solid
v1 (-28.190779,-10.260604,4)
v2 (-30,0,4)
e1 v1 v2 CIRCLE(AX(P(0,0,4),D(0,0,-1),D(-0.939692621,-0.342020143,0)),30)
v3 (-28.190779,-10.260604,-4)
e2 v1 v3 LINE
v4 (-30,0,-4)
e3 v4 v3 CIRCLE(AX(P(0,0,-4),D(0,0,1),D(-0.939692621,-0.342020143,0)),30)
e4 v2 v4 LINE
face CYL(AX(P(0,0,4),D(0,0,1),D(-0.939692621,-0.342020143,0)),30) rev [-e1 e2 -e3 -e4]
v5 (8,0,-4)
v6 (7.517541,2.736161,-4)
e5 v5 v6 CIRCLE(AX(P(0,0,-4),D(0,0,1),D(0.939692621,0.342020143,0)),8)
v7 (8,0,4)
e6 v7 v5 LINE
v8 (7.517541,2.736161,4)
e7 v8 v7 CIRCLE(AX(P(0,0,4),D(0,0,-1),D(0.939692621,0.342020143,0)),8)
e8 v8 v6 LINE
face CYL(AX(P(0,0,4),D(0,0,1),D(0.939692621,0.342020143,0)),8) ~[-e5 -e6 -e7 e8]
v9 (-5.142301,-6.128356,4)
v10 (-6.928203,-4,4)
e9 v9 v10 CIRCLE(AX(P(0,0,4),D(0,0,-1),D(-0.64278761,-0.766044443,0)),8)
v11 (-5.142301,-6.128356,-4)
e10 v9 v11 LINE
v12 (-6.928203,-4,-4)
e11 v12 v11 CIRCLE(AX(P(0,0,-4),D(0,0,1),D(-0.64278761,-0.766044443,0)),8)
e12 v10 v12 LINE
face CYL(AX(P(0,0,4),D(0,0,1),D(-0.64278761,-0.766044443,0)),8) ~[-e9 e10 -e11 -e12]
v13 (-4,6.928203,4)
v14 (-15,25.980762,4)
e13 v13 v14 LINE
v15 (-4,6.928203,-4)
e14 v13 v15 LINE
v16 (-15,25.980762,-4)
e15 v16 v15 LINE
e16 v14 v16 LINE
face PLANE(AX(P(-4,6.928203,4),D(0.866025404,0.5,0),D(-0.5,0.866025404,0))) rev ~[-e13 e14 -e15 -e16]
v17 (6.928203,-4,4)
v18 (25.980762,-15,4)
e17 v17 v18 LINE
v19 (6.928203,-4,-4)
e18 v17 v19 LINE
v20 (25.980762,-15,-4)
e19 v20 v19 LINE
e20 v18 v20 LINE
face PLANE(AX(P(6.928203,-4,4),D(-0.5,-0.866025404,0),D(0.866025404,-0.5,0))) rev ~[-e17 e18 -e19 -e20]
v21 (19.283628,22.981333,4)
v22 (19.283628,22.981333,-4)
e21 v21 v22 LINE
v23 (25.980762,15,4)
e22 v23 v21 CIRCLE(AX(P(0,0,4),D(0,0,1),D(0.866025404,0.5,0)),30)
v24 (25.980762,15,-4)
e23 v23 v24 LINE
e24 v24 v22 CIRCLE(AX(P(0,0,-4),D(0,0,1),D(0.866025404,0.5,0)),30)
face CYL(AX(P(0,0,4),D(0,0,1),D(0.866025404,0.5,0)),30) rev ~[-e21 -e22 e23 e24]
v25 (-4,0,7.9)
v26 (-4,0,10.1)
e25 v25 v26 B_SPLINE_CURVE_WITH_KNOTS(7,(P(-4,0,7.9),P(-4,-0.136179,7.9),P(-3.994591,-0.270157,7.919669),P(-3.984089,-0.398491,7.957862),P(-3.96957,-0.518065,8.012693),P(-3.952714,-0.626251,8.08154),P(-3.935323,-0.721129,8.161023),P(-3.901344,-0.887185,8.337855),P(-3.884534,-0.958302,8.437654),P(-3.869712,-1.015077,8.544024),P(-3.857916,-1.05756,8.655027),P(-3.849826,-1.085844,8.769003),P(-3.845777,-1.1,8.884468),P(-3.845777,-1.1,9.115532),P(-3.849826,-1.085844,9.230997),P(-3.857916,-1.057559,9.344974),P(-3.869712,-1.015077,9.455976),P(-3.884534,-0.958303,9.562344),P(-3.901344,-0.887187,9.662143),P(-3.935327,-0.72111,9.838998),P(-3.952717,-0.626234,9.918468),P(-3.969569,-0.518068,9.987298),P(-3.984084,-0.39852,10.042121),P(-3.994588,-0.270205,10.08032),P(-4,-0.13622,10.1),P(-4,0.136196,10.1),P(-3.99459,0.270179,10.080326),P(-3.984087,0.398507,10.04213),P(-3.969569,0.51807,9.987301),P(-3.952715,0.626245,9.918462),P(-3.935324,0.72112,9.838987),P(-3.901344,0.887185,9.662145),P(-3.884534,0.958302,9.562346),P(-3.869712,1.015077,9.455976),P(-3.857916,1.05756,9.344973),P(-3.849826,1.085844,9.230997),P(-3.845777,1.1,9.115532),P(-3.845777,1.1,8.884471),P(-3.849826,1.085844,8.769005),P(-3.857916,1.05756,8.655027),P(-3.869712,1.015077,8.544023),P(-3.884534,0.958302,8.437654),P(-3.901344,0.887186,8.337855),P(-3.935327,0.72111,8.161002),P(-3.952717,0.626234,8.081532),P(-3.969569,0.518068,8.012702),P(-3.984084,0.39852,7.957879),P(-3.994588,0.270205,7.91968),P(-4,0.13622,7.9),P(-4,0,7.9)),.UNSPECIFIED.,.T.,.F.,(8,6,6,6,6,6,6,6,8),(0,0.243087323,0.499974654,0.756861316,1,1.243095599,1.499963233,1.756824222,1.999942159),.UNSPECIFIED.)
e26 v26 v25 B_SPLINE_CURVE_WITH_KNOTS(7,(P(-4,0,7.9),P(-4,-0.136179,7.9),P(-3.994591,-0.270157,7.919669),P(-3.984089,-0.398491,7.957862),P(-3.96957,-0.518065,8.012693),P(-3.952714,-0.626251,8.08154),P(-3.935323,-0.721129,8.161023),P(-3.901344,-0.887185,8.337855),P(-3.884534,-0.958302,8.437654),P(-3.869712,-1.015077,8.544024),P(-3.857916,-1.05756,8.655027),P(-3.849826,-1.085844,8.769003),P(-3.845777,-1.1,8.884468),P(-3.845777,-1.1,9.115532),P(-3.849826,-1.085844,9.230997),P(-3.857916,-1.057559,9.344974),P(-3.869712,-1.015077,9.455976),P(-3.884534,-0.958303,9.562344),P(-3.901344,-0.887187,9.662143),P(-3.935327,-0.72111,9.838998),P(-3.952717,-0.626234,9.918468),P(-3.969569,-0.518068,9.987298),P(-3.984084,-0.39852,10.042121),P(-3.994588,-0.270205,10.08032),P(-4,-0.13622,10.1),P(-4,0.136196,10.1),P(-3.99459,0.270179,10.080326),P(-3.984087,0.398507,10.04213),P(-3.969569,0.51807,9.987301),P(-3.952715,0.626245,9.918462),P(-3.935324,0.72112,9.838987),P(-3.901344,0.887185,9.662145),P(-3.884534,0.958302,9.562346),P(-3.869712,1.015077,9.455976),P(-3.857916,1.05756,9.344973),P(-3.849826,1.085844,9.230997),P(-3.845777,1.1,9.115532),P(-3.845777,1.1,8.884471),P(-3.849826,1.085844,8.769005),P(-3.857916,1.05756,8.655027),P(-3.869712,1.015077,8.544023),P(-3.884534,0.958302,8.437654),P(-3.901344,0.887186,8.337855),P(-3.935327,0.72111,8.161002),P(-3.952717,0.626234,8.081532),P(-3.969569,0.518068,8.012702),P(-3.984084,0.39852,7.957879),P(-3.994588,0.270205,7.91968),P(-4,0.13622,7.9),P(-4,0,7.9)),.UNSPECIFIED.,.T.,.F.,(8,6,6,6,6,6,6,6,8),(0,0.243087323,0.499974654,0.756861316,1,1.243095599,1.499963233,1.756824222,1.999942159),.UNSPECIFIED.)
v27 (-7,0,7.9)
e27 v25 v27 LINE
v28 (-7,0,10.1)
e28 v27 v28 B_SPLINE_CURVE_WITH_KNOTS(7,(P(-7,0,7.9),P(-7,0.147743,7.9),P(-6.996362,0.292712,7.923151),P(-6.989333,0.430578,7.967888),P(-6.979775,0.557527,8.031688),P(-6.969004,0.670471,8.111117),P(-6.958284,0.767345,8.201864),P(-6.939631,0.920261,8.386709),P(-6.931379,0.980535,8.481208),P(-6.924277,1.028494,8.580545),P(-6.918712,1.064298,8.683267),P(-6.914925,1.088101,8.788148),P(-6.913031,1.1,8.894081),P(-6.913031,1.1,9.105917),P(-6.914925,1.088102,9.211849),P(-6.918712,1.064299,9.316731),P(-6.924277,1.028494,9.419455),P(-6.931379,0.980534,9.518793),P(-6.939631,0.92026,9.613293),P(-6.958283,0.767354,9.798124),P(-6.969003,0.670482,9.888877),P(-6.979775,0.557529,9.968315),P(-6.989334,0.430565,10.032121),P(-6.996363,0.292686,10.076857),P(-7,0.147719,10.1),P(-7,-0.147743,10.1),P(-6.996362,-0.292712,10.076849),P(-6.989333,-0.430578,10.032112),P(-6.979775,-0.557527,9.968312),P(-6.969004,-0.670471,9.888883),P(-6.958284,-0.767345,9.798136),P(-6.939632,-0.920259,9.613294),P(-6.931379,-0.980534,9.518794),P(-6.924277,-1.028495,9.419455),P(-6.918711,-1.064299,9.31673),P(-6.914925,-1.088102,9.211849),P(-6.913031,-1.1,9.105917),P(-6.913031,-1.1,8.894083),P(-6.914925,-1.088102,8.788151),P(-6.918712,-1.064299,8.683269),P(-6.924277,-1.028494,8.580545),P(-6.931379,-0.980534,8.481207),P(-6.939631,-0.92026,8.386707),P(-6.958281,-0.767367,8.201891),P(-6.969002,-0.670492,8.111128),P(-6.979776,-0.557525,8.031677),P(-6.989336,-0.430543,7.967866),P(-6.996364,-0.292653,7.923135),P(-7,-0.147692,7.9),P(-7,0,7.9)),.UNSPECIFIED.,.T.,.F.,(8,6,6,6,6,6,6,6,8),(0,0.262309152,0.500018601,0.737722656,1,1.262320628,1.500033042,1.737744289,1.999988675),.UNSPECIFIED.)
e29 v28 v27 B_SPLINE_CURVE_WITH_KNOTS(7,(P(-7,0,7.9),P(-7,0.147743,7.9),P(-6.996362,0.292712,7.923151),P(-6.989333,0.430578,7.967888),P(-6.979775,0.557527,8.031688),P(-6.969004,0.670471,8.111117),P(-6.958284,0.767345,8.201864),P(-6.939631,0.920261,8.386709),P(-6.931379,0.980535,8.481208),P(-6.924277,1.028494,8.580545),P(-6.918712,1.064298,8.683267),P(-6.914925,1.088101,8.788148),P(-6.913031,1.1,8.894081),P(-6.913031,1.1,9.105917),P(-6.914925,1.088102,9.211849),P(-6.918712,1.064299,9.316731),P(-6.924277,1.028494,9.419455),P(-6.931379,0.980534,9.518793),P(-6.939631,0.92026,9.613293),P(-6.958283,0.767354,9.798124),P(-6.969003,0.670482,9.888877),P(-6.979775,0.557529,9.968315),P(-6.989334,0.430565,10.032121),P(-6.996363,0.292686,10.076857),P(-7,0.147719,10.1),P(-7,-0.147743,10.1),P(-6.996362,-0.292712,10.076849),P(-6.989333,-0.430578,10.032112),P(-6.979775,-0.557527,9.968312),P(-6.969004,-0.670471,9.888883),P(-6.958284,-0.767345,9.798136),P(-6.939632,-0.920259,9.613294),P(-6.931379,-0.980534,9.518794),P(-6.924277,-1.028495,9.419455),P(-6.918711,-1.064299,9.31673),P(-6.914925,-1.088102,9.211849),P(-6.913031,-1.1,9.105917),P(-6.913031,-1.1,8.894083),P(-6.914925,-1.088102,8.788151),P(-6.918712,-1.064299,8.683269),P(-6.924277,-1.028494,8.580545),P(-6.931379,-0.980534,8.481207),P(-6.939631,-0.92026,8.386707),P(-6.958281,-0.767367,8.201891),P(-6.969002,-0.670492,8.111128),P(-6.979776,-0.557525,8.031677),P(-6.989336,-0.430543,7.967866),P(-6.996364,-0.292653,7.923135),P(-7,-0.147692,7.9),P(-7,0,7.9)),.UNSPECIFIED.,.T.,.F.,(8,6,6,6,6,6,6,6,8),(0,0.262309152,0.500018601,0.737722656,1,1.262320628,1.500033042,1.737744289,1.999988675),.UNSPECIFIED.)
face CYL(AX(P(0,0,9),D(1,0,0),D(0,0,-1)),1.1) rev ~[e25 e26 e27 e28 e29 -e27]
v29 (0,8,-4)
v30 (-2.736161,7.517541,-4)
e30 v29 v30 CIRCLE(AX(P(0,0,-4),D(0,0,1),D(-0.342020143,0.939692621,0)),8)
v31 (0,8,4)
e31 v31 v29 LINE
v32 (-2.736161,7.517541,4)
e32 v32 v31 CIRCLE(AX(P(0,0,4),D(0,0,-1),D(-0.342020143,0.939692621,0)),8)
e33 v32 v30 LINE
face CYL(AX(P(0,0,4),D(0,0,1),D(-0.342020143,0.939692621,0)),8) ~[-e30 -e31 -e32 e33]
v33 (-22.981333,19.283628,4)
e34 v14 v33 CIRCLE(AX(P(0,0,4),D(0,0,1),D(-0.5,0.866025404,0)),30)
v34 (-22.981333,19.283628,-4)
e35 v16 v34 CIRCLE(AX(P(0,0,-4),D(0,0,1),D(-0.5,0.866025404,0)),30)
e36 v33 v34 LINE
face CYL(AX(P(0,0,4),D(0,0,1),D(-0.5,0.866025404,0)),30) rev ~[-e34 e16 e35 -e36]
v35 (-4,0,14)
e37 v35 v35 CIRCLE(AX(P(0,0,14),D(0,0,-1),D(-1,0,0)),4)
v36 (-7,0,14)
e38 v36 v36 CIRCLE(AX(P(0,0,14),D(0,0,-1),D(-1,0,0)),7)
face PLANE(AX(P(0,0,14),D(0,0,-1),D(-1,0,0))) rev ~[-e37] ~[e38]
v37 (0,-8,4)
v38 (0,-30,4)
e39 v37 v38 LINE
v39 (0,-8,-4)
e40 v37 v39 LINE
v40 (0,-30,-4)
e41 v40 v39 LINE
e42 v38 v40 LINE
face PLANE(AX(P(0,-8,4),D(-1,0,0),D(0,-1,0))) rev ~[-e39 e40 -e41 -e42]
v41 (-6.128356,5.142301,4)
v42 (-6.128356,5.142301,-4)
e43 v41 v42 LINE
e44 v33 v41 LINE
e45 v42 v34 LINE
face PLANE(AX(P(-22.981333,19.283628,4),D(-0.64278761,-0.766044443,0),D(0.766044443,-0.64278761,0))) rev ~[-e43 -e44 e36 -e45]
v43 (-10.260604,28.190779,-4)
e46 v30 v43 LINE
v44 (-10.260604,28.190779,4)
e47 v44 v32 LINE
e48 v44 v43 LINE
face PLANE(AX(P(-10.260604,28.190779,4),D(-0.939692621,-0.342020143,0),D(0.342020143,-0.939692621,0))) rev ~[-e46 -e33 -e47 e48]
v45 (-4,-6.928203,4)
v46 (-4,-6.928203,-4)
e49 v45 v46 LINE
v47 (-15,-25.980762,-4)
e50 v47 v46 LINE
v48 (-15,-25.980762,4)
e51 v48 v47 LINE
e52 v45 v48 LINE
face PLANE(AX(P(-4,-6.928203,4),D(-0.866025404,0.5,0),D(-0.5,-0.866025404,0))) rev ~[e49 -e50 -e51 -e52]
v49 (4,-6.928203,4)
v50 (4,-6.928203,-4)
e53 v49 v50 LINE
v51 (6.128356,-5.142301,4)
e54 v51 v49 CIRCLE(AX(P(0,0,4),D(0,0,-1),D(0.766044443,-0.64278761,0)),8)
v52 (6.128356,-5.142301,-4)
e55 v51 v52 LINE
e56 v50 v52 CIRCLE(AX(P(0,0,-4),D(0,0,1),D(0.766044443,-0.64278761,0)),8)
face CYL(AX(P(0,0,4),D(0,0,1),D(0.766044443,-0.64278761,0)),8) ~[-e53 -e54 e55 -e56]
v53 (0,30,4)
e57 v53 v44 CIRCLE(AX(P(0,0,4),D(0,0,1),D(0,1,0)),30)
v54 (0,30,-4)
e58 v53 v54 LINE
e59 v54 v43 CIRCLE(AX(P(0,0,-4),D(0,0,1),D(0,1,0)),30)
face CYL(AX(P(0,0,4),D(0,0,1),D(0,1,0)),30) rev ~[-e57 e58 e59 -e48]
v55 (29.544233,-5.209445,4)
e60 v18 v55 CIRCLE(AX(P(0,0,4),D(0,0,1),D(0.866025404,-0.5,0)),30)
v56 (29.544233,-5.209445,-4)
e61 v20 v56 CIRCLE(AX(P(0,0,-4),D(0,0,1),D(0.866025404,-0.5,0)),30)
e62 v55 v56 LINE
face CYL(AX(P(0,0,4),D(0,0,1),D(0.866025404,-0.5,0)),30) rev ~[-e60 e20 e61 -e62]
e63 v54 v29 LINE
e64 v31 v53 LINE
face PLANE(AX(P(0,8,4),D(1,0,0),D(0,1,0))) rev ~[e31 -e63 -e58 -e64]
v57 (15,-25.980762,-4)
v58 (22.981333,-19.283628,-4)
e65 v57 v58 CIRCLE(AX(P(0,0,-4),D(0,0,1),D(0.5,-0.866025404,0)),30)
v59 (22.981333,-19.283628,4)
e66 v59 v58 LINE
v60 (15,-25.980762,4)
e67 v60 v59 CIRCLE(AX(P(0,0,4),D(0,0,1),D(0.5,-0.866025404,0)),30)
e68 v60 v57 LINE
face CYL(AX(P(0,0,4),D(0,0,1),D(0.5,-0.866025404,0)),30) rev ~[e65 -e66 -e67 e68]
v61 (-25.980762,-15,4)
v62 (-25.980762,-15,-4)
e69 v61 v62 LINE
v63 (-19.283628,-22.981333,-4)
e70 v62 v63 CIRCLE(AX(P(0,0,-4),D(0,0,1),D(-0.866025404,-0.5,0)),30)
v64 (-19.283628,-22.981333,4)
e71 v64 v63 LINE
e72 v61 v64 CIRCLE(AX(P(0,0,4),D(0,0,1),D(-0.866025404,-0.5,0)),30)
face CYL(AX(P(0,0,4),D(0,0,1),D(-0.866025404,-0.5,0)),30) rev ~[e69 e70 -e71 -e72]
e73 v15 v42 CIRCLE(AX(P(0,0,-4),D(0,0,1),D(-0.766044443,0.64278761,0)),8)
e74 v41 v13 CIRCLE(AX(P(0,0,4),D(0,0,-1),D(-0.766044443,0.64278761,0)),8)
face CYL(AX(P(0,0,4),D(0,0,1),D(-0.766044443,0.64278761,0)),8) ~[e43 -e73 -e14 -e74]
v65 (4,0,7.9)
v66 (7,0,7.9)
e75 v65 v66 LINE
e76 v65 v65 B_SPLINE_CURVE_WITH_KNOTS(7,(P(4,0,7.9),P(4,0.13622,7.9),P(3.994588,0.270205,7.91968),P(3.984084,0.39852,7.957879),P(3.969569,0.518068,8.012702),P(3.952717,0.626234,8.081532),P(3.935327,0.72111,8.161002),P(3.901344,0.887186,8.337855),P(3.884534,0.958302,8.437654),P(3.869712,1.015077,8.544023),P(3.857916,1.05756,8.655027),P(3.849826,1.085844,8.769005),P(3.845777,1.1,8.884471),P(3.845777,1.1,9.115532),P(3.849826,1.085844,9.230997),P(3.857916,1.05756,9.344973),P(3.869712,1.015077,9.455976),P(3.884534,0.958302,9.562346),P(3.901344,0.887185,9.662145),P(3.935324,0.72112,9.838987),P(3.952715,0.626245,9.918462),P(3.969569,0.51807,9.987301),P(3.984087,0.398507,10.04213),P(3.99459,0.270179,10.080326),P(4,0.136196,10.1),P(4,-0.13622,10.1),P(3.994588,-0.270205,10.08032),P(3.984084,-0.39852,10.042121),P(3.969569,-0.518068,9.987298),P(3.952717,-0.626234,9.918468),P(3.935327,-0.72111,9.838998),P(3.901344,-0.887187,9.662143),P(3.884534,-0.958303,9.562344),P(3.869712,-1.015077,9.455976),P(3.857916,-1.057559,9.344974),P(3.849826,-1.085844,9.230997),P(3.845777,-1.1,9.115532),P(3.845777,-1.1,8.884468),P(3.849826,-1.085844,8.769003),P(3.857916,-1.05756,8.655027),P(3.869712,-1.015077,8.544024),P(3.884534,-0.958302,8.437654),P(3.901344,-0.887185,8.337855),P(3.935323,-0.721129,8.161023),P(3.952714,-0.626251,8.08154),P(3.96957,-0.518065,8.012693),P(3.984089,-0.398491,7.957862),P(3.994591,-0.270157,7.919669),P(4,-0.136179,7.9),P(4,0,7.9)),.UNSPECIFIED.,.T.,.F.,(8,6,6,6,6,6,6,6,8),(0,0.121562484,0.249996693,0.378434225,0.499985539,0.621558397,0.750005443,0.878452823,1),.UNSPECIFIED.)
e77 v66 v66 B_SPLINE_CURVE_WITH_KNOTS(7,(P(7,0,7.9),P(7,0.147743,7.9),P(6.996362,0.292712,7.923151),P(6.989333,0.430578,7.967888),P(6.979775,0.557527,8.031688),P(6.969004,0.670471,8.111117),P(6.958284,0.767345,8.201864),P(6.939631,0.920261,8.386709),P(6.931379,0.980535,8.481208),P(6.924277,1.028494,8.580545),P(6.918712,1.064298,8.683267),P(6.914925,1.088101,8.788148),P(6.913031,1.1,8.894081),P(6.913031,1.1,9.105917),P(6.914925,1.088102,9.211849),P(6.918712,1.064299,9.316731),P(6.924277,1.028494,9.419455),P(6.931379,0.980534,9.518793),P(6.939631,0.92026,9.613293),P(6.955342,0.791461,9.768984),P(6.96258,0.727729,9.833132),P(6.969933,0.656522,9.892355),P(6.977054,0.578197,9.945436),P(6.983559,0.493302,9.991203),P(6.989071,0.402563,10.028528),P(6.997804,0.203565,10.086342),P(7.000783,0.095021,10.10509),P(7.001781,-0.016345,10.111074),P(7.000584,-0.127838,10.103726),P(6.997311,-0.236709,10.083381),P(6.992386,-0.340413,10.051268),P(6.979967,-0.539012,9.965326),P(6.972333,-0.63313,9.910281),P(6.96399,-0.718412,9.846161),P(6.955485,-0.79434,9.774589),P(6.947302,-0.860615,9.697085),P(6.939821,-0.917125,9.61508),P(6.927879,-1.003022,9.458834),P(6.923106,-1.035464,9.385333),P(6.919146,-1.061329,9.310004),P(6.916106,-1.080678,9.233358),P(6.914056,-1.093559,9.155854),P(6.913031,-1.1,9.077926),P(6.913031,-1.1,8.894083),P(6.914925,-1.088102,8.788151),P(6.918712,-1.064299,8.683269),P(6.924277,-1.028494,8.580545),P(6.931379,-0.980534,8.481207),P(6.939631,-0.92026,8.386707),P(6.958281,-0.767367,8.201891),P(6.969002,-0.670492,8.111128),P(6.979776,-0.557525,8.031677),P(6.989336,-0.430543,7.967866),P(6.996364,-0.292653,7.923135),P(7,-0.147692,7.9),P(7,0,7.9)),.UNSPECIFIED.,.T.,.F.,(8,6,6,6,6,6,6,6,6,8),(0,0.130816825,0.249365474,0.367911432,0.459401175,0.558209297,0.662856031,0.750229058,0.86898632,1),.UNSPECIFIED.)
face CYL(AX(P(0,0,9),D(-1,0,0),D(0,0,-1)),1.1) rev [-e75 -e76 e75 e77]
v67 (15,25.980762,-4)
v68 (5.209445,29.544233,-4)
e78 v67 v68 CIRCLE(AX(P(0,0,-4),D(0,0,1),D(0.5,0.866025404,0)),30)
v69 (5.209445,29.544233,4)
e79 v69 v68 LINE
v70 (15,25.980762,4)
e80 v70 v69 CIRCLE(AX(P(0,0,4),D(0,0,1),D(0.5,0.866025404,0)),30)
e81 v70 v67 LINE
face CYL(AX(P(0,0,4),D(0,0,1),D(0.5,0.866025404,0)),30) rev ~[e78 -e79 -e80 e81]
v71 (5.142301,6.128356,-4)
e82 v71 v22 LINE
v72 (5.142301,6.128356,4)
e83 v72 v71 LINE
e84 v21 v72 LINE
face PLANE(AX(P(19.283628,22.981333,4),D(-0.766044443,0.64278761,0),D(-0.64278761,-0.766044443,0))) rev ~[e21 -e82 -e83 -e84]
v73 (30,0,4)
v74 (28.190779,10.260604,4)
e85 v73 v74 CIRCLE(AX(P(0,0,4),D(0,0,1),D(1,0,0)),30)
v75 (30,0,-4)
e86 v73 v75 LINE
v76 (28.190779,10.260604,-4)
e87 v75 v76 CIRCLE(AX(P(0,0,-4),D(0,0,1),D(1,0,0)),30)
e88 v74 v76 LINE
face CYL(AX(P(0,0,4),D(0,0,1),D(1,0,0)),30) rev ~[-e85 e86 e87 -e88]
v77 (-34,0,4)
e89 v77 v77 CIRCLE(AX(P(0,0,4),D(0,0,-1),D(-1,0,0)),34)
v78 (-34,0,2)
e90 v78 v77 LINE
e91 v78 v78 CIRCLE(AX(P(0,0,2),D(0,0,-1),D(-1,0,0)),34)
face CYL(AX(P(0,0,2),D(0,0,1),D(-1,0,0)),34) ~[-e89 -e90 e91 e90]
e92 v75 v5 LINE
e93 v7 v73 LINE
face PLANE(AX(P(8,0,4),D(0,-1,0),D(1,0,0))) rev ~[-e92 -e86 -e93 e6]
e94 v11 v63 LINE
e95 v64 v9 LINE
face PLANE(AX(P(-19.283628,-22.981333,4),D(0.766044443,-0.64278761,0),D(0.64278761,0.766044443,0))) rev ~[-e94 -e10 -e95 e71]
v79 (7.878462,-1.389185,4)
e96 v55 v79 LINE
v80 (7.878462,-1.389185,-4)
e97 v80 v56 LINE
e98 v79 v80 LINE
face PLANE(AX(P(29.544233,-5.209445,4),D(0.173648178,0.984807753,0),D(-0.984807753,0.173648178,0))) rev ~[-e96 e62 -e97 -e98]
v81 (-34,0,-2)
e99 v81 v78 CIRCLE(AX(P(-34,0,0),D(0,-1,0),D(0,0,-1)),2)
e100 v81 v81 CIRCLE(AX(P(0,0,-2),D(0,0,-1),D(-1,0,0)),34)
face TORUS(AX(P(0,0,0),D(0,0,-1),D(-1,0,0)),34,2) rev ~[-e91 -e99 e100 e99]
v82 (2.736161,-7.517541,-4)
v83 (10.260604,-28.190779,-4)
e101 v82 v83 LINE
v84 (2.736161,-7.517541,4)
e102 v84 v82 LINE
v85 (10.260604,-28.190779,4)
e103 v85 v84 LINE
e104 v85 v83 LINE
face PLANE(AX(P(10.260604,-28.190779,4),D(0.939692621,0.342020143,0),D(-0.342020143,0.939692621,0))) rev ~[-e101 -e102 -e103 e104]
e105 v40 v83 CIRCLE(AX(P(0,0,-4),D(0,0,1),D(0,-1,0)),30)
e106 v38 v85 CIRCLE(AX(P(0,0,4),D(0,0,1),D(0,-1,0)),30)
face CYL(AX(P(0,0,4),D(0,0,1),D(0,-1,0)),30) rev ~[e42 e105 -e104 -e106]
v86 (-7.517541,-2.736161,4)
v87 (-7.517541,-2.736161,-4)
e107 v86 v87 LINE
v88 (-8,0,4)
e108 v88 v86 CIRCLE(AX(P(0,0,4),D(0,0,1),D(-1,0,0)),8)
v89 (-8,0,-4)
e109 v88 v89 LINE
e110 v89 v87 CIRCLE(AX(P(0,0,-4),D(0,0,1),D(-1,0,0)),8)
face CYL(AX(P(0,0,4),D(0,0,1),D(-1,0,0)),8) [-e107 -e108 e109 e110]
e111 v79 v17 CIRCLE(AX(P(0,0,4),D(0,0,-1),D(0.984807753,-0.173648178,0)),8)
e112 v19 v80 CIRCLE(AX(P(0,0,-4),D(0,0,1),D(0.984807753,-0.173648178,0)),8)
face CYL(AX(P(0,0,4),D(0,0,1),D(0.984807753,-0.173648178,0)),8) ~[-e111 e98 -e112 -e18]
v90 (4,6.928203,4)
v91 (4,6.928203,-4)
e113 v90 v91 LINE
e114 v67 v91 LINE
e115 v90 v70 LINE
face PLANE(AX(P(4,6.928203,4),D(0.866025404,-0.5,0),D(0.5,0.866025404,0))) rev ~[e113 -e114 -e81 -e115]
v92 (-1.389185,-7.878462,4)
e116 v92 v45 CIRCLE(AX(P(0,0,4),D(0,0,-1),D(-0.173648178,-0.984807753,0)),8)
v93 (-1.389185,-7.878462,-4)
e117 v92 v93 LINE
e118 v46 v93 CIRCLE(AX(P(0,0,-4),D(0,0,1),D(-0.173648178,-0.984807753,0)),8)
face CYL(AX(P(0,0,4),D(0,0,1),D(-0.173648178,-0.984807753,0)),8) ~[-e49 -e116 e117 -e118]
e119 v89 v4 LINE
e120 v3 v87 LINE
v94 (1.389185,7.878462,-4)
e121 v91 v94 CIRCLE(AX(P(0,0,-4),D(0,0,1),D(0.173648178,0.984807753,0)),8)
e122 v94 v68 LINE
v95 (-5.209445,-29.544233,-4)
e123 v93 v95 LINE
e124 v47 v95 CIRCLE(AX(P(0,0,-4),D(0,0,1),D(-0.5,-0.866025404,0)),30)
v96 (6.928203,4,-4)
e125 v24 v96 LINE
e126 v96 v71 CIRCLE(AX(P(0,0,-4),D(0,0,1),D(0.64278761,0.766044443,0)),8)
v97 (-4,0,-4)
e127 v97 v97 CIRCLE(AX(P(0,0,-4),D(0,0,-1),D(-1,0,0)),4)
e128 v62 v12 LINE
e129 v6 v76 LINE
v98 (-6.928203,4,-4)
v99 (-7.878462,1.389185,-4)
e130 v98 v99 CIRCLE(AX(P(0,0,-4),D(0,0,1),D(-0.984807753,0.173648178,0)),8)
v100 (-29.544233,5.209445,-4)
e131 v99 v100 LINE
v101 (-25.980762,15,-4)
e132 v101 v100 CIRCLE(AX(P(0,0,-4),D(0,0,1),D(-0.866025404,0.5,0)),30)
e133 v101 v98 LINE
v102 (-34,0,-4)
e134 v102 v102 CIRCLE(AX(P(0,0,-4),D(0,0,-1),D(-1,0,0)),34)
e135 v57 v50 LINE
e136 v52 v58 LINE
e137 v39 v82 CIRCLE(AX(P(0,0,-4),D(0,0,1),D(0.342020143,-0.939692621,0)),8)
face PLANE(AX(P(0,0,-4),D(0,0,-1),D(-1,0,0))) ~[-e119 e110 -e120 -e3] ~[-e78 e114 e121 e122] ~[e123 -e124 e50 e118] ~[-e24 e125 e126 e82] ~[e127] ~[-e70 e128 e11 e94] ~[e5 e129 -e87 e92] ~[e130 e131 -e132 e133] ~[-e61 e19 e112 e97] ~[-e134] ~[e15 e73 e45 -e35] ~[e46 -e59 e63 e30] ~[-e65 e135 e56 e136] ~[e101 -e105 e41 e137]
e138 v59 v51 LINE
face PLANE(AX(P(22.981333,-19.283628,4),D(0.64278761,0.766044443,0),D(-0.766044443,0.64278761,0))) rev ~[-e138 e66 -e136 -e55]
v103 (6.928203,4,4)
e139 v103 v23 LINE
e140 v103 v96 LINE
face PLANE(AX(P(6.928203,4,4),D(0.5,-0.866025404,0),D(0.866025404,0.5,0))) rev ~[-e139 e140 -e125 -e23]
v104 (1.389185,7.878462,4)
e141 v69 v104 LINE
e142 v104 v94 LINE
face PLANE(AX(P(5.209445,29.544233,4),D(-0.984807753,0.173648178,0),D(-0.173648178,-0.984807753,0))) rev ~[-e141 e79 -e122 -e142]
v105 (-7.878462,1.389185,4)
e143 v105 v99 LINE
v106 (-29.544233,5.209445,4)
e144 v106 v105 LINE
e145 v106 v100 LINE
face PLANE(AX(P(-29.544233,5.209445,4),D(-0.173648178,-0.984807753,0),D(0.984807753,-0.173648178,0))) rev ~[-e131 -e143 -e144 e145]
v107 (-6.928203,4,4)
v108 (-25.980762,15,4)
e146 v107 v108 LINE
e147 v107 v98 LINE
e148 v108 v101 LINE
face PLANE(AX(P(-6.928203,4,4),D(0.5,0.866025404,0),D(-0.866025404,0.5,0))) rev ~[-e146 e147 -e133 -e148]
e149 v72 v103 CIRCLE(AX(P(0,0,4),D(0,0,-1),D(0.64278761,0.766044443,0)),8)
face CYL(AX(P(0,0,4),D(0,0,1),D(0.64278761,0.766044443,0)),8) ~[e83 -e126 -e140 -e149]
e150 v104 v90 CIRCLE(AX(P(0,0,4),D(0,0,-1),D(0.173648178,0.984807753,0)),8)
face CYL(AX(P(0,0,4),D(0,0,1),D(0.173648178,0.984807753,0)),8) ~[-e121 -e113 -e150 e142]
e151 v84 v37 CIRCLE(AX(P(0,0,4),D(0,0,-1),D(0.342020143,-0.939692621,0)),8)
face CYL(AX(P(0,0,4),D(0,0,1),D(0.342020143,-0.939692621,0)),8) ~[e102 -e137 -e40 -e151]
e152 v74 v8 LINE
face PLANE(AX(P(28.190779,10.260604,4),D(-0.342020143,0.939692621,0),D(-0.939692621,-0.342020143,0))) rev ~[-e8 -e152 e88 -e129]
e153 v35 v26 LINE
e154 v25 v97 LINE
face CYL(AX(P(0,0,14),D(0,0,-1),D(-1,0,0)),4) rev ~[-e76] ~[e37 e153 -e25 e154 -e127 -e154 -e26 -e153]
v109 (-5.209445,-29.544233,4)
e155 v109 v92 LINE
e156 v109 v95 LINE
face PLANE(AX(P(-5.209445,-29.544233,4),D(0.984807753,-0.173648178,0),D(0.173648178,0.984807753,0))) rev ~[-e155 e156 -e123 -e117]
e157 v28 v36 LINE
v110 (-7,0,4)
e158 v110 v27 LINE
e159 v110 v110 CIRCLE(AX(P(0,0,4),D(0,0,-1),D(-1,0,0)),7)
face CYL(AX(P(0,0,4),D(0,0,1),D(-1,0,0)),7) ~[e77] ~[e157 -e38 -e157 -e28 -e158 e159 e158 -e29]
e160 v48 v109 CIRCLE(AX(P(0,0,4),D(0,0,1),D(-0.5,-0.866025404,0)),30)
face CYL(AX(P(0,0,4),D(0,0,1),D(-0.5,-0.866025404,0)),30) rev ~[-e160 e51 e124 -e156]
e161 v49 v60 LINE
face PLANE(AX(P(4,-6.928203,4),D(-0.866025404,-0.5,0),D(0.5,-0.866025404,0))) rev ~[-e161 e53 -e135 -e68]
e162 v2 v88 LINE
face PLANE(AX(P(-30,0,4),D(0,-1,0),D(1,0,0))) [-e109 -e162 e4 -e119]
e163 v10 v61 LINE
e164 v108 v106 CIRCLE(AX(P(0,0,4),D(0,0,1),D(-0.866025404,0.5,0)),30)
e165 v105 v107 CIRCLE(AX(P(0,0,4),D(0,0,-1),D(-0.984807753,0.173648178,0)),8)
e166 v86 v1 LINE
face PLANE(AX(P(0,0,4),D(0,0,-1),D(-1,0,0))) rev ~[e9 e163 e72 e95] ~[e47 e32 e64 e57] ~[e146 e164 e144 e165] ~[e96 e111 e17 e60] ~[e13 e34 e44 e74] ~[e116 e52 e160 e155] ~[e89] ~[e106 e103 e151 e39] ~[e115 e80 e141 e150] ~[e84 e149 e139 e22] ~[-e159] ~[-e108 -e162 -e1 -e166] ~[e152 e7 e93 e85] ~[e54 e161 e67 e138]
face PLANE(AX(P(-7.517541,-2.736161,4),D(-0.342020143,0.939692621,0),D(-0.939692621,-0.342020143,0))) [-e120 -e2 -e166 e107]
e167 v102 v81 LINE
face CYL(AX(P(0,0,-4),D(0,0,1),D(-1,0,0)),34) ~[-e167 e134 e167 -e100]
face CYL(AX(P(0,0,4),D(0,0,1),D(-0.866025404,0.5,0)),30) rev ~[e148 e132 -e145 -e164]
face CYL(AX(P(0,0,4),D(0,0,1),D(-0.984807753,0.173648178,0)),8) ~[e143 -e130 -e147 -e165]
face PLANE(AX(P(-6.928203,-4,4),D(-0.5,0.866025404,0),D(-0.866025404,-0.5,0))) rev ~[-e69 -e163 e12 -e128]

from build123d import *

# Parameters (mm, degrees)
CUT_EXTRUDE_1_REACH             = 10
CUT_EXTRUDE_2_REACH             = 36
SKETCH_4_R                      = 1.1
CUT_EXTRUDE_2_DIRECTION_2_REACH = 36


with BuildPart() as part:
    # 草图2 → 旋转1 (revolve)
    with BuildSketch(Plane(origin=(0, 0, 0), x_dir=(1, 0, 0), z_dir=(0, 1, 0))):
        with BuildLine():
            Line((-4, -4), (-4, 4))
            Line((-4, 4), (-34, 4))
            Line((-34, 4), (-34, 2))
            ThreePointArc((-34, 2), (-32, 0), (-34, -2))
            Line((-34, -2), (-34, -4))
            Line((-34, -4), (-7, -4))
            Line((-7, -4), (-7, -14))
            Line((-7, -14), (-4, -14))
            Line((-4, -14), (-4, -4))
        make_face()
    revolve(axis=Axis((0, 0, 0), (0, 0, -1)))

    # 草图3 → 切除-拉伸1 (cut, up to next)
    with BuildSketch(Plane.XY.offset(4), mode=Mode.PRIVATE) as cut_extrude_1_sk1:
        with BuildLine():
            Line((-30, 0), (-8, 0))
            ThreePointArc((-8, 0), (-7.878462024, -1.389185421), (-7.517540966, -2.736161147))
            Line((-7.517540966, -2.736161147), (-28.190778624, -10.2606043))
            ThreePointArc((-28.190778624, -10.2606043), (-29.54423259, -5.20944533), (-30, 0))
        make_face()
    cut_extrude_1_tool1 = extrude(cut_extrude_1_sk1.sketch, amount=-CUT_EXTRUDE_1_REACH, mode=Mode.PRIVATE) & part.part
    add(cut_extrude_1_tool1.solids().sort_by_distance((-20.696454, -3.649343, 4))[0], mode=Mode.SUBTRACT)
    # 草图3 → 切除-拉伸1 (cut, up to next)
    with BuildSketch(Plane.XY.offset(4), mode=Mode.PRIVATE) as cut_extrude_1_sk2:
        with BuildLine():
            Line((-29.54423259, 5.20944533), (-7.878462024, 1.389185421))
            ThreePointArc((-7.878462024, 1.389185421), (-7.517540966, 2.736161147), (-6.92820323, 4))
            Line((-6.92820323, 4), (-25.980762114, 15))
            ThreePointArc((-25.980762114, 15), (-28.190778624, 10.2606043), (-29.54423259, 5.20944533))
        make_face()
    cut_extrude_1_tool2 = extrude(cut_extrude_1_sk2.sketch, amount=-CUT_EXTRUDE_1_REACH, mode=Mode.PRIVATE) & part.part
    add(cut_extrude_1_tool2.solids().sort_by_distance((-19.748327, 7.187803, 4))[0], mode=Mode.SUBTRACT)
    # 草图3 → 切除-拉伸1 (cut, up to next)
    with BuildSketch(Plane.XY.offset(4), mode=Mode.PRIVATE) as cut_extrude_1_sk3:
        with BuildLine():
            Line((-22.981333294, 19.283628291), (-6.128355545, 5.142300877))
            ThreePointArc((-6.128355545, 5.142300877), (-5.142300877, 6.128355545), (-4, 6.92820323))
            Line((-4, 6.92820323), (-15, 25.980762114))
            ThreePointArc((-15, 25.980762114), (-19.283628291, 22.981333294), (-22.981333294, 19.283628291))
        make_face()
    cut_extrude_1_tool3 = extrude(cut_extrude_1_sk3.sketch, amount=-CUT_EXTRUDE_1_REACH, mode=Mode.PRIVATE) & part.part
    add(cut_extrude_1_tool3.solids().sort_by_distance((-13.508651, 16.098984, 4))[0], mode=Mode.SUBTRACT)
    # 草图3 → 切除-拉伸1 (cut, up to next)
    with BuildSketch(Plane.XY.offset(4), mode=Mode.PRIVATE) as cut_extrude_1_sk4:
        with BuildLine():
            Line((-10.2606043, 28.190778624), (-2.736161147, 7.517540966))
            ThreePointArc((-2.736161147, 7.517540966), (-1.389185421, 7.878462024), (0, 8))
            Line((0, 8), (0, 30))
            ThreePointArc((0, 30), (-5.20944533, 29.54423259), (-10.2606043, 28.190778624))
        make_face()
    cut_extrude_1_tool4 = extrude(cut_extrude_1_sk4.sketch, amount=-CUT_EXTRUDE_1_REACH, mode=Mode.PRIVATE) & part.part
    add(cut_extrude_1_tool4.solids().sort_by_distance((-3.649343, 20.696454, 4))[0], mode=Mode.SUBTRACT)
    # 草图3 → 切除-拉伸1 (cut, up to next)
    with BuildSketch(Plane.XY.offset(4), mode=Mode.PRIVATE) as cut_extrude_1_sk5:
        with BuildLine():
            Line((5.20944533, 29.54423259), (1.389185421, 7.878462024))
            ThreePointArc((1.389185421, 7.878462024), (2.736161147, 7.517540966), (4, 6.92820323))
            Line((4, 6.92820323), (15, 25.980762114))
            ThreePointArc((15, 25.980762114), (10.2606043, 28.190778624), (5.20944533, 29.54423259))
        make_face()
    cut_extrude_1_tool5 = extrude(cut_extrude_1_sk5.sketch, amount=-CUT_EXTRUDE_1_REACH, mode=Mode.PRIVATE) & part.part
    add(cut_extrude_1_tool5.solids().sort_by_distance((7.187803, 19.748327, 4))[0], mode=Mode.SUBTRACT)
    # 草图3 → 切除-拉伸1 (cut, up to next)
    with BuildSketch(Plane.XY.offset(4), mode=Mode.PRIVATE) as cut_extrude_1_sk6:
        with BuildLine():
            Line((19.283628291, 22.981333294), (5.142300877, 6.128355545))
            ThreePointArc((5.142300877, 6.128355545), (6.128355545, 5.142300877), (6.92820323, 4))
            Line((6.92820323, 4), (25.980762114, 15))
            ThreePointArc((25.980762114, 15), (22.981333294, 19.283628291), (19.283628291, 22.981333294))
        make_face()
    cut_extrude_1_tool6 = extrude(cut_extrude_1_sk6.sketch, amount=-CUT_EXTRUDE_1_REACH, mode=Mode.PRIVATE) & part.part
    add(cut_extrude_1_tool6.solids().sort_by_distance((16.098984, 13.508651, 4))[0], mode=Mode.SUBTRACT)
    # 草图3 → 切除-拉伸1 (cut, up to next)
    with BuildSketch(Plane.XY.offset(4), mode=Mode.PRIVATE) as cut_extrude_1_sk7:
        with BuildLine():
            Line((28.190778624, 10.2606043), (7.517540966, 2.736161147))
            ThreePointArc((7.517540966, 2.736161147), (7.878462024, 1.389185421), (8, 0))
            Line((8, 0), (30, 0))
            ThreePointArc((30, 0), (29.54423259, 5.20944533), (28.190778624, 10.2606043))
        make_face()
    cut_extrude_1_tool7 = extrude(cut_extrude_1_sk7.sketch, amount=-CUT_EXTRUDE_1_REACH, mode=Mode.PRIVATE) & part.part
    add(cut_extrude_1_tool7.solids().sort_by_distance((20.696454, 3.649343, 4))[0], mode=Mode.SUBTRACT)
    # 草图3 → 切除-拉伸1 (cut, up to next)
    with BuildSketch(Plane.XY.offset(4), mode=Mode.PRIVATE) as cut_extrude_1_sk8:
        with BuildLine():
            Line((29.54423259, -5.20944533), (7.878462024, -1.389185421))
            ThreePointArc((7.878462024, -1.389185421), (7.517540966, -2.736161147), (6.92820323, -4))
            Line((6.92820323, -4), (25.980762114, -15))
            ThreePointArc((25.980762114, -15), (28.190778624, -10.2606043), (29.54423259, -5.20944533))
        make_face()
    cut_extrude_1_tool8 = extrude(cut_extrude_1_sk8.sketch, amount=-CUT_EXTRUDE_1_REACH, mode=Mode.PRIVATE) & part.part
    add(cut_extrude_1_tool8.solids().sort_by_distance((19.748327, -7.187803, 4))[0], mode=Mode.SUBTRACT)
    # 草图3 → 切除-拉伸1 (cut, up to next)
    with BuildSketch(Plane.XY.offset(4), mode=Mode.PRIVATE) as cut_extrude_1_sk9:
        with BuildLine():
            Line((22.981333294, -19.283628291), (6.128355545, -5.142300877))
            ThreePointArc((6.128355545, -5.142300877), (5.142300877, -6.128355545), (4, -6.92820323))
            Line((4, -6.92820323), (15, -25.980762114))
            ThreePointArc((15, -25.980762114), (19.283628291, -22.981333294), (22.981333294, -19.283628291))
        make_face()
    cut_extrude_1_tool9 = extrude(cut_extrude_1_sk9.sketch, amount=-CUT_EXTRUDE_1_REACH, mode=Mode.PRIVATE) & part.part
    add(cut_extrude_1_tool9.solids().sort_by_distance((13.508651, -16.098984, 4))[0], mode=Mode.SUBTRACT)
    # 草图3 → 切除-拉伸1 (cut, up to next)
    with BuildSketch(Plane.XY.offset(4), mode=Mode.PRIVATE) as cut_extrude_1_sk10:
        with BuildLine():
            Line((10.2606043, -28.190778624), (2.736161147, -7.517540966))
            ThreePointArc((2.736161147, -7.517540966), (1.389185421, -7.878462024), (0, -8))
            Line((0, -8), (0, -30))
            ThreePointArc((0, -30), (5.20944533, -29.54423259), (10.2606043, -28.190778624))
        make_face()
    cut_extrude_1_tool10 = extrude(cut_extrude_1_sk10.sketch, amount=-CUT_EXTRUDE_1_REACH, mode=Mode.PRIVATE) & part.part
    add(cut_extrude_1_tool10.solids().sort_by_distance((3.649343, -20.696454, 4))[0], mode=Mode.SUBTRACT)
    # 草图3 → 切除-拉伸1 (cut, up to next)
    with BuildSketch(Plane.XY.offset(4), mode=Mode.PRIVATE) as cut_extrude_1_sk11:
        with BuildLine():
            Line((-5.20944533, -29.54423259), (-1.389185421, -7.878462024))
            ThreePointArc((-1.389185421, -7.878462024), (-2.736161147, -7.517540966), (-4, -6.92820323))
            Line((-4, -6.92820323), (-15, -25.980762114))
            ThreePointArc((-15, -25.980762114), (-10.2606043, -28.190778624), (-5.20944533, -29.54423259))
        make_face()
    cut_extrude_1_tool11 = extrude(cut_extrude_1_sk11.sketch, amount=-CUT_EXTRUDE_1_REACH, mode=Mode.PRIVATE) & part.part
    add(cut_extrude_1_tool11.solids().sort_by_distance((-7.187803, -19.748327, 4))[0], mode=Mode.SUBTRACT)
    # 草图3 → 切除-拉伸1 (cut, up to next)
    with BuildSketch(Plane.XY.offset(4), mode=Mode.PRIVATE) as cut_extrude_1_sk12:
        with BuildLine():
            Line((-19.283628291, -22.981333294), (-5.142300877, -6.128355545))
            ThreePointArc((-5.142300877, -6.128355545), (-6.128355545, -5.142300877), (-6.92820323, -4))
            Line((-6.92820323, -4), (-25.980762114, -15))
            ThreePointArc((-25.980762114, -15), (-22.981333294, -19.283628291), (-19.283628291, -22.981333294))
        make_face()
    cut_extrude_1_tool12 = extrude(cut_extrude_1_sk12.sketch, amount=-CUT_EXTRUDE_1_REACH, mode=Mode.PRIVATE) & part.part
    add(cut_extrude_1_tool12.solids().sort_by_distance((-16.098984, -13.508651, 4))[0], mode=Mode.SUBTRACT)

    # 草图4 → 切除-拉伸2 (cut, up to next)
    with BuildSketch(Plane(origin=(0, 0, 0), x_dir=(0, 0, -1), z_dir=(1, 0, 0)), mode=Mode.PRIVATE) as cut_extrude_2_sk1:
        with Locations((-9, 0)):
            Circle(SKETCH_4_R)
    cut_extrude_2_tool1 = extrude(cut_extrude_2_sk1.sketch, amount=-CUT_EXTRUDE_2_REACH, mode=Mode.PRIVATE) & part.part
    add(cut_extrude_2_tool1.solids().sort_by_distance((0, 0, 9))[0], mode=Mode.SUBTRACT)

    # 草图4 → 切除-拉伸2 direction 2 (cut, up to next)
    with BuildSketch(Plane(origin=(0, 0, 0), x_dir=(0, 0, -1), z_dir=(1, 0, 0)), mode=Mode.PRIVATE) as cut_extrude_2_direction_2_sk1:
        with Locations((-9, 0)):
            Circle(SKETCH_4_R)
    cut_extrude_2_direction_2_tool1 = extrude(cut_extrude_2_direction_2_sk1.sketch, amount=CUT_EXTRUDE_2_DIRECTION_2_REACH, mode=Mode.PRIVATE) & part.part
    add(cut_extrude_2_direction_2_tool1.solids().sort_by_distance((0, 0, 9))[0], mode=Mode.SUBTRACT)


solid = part.part
